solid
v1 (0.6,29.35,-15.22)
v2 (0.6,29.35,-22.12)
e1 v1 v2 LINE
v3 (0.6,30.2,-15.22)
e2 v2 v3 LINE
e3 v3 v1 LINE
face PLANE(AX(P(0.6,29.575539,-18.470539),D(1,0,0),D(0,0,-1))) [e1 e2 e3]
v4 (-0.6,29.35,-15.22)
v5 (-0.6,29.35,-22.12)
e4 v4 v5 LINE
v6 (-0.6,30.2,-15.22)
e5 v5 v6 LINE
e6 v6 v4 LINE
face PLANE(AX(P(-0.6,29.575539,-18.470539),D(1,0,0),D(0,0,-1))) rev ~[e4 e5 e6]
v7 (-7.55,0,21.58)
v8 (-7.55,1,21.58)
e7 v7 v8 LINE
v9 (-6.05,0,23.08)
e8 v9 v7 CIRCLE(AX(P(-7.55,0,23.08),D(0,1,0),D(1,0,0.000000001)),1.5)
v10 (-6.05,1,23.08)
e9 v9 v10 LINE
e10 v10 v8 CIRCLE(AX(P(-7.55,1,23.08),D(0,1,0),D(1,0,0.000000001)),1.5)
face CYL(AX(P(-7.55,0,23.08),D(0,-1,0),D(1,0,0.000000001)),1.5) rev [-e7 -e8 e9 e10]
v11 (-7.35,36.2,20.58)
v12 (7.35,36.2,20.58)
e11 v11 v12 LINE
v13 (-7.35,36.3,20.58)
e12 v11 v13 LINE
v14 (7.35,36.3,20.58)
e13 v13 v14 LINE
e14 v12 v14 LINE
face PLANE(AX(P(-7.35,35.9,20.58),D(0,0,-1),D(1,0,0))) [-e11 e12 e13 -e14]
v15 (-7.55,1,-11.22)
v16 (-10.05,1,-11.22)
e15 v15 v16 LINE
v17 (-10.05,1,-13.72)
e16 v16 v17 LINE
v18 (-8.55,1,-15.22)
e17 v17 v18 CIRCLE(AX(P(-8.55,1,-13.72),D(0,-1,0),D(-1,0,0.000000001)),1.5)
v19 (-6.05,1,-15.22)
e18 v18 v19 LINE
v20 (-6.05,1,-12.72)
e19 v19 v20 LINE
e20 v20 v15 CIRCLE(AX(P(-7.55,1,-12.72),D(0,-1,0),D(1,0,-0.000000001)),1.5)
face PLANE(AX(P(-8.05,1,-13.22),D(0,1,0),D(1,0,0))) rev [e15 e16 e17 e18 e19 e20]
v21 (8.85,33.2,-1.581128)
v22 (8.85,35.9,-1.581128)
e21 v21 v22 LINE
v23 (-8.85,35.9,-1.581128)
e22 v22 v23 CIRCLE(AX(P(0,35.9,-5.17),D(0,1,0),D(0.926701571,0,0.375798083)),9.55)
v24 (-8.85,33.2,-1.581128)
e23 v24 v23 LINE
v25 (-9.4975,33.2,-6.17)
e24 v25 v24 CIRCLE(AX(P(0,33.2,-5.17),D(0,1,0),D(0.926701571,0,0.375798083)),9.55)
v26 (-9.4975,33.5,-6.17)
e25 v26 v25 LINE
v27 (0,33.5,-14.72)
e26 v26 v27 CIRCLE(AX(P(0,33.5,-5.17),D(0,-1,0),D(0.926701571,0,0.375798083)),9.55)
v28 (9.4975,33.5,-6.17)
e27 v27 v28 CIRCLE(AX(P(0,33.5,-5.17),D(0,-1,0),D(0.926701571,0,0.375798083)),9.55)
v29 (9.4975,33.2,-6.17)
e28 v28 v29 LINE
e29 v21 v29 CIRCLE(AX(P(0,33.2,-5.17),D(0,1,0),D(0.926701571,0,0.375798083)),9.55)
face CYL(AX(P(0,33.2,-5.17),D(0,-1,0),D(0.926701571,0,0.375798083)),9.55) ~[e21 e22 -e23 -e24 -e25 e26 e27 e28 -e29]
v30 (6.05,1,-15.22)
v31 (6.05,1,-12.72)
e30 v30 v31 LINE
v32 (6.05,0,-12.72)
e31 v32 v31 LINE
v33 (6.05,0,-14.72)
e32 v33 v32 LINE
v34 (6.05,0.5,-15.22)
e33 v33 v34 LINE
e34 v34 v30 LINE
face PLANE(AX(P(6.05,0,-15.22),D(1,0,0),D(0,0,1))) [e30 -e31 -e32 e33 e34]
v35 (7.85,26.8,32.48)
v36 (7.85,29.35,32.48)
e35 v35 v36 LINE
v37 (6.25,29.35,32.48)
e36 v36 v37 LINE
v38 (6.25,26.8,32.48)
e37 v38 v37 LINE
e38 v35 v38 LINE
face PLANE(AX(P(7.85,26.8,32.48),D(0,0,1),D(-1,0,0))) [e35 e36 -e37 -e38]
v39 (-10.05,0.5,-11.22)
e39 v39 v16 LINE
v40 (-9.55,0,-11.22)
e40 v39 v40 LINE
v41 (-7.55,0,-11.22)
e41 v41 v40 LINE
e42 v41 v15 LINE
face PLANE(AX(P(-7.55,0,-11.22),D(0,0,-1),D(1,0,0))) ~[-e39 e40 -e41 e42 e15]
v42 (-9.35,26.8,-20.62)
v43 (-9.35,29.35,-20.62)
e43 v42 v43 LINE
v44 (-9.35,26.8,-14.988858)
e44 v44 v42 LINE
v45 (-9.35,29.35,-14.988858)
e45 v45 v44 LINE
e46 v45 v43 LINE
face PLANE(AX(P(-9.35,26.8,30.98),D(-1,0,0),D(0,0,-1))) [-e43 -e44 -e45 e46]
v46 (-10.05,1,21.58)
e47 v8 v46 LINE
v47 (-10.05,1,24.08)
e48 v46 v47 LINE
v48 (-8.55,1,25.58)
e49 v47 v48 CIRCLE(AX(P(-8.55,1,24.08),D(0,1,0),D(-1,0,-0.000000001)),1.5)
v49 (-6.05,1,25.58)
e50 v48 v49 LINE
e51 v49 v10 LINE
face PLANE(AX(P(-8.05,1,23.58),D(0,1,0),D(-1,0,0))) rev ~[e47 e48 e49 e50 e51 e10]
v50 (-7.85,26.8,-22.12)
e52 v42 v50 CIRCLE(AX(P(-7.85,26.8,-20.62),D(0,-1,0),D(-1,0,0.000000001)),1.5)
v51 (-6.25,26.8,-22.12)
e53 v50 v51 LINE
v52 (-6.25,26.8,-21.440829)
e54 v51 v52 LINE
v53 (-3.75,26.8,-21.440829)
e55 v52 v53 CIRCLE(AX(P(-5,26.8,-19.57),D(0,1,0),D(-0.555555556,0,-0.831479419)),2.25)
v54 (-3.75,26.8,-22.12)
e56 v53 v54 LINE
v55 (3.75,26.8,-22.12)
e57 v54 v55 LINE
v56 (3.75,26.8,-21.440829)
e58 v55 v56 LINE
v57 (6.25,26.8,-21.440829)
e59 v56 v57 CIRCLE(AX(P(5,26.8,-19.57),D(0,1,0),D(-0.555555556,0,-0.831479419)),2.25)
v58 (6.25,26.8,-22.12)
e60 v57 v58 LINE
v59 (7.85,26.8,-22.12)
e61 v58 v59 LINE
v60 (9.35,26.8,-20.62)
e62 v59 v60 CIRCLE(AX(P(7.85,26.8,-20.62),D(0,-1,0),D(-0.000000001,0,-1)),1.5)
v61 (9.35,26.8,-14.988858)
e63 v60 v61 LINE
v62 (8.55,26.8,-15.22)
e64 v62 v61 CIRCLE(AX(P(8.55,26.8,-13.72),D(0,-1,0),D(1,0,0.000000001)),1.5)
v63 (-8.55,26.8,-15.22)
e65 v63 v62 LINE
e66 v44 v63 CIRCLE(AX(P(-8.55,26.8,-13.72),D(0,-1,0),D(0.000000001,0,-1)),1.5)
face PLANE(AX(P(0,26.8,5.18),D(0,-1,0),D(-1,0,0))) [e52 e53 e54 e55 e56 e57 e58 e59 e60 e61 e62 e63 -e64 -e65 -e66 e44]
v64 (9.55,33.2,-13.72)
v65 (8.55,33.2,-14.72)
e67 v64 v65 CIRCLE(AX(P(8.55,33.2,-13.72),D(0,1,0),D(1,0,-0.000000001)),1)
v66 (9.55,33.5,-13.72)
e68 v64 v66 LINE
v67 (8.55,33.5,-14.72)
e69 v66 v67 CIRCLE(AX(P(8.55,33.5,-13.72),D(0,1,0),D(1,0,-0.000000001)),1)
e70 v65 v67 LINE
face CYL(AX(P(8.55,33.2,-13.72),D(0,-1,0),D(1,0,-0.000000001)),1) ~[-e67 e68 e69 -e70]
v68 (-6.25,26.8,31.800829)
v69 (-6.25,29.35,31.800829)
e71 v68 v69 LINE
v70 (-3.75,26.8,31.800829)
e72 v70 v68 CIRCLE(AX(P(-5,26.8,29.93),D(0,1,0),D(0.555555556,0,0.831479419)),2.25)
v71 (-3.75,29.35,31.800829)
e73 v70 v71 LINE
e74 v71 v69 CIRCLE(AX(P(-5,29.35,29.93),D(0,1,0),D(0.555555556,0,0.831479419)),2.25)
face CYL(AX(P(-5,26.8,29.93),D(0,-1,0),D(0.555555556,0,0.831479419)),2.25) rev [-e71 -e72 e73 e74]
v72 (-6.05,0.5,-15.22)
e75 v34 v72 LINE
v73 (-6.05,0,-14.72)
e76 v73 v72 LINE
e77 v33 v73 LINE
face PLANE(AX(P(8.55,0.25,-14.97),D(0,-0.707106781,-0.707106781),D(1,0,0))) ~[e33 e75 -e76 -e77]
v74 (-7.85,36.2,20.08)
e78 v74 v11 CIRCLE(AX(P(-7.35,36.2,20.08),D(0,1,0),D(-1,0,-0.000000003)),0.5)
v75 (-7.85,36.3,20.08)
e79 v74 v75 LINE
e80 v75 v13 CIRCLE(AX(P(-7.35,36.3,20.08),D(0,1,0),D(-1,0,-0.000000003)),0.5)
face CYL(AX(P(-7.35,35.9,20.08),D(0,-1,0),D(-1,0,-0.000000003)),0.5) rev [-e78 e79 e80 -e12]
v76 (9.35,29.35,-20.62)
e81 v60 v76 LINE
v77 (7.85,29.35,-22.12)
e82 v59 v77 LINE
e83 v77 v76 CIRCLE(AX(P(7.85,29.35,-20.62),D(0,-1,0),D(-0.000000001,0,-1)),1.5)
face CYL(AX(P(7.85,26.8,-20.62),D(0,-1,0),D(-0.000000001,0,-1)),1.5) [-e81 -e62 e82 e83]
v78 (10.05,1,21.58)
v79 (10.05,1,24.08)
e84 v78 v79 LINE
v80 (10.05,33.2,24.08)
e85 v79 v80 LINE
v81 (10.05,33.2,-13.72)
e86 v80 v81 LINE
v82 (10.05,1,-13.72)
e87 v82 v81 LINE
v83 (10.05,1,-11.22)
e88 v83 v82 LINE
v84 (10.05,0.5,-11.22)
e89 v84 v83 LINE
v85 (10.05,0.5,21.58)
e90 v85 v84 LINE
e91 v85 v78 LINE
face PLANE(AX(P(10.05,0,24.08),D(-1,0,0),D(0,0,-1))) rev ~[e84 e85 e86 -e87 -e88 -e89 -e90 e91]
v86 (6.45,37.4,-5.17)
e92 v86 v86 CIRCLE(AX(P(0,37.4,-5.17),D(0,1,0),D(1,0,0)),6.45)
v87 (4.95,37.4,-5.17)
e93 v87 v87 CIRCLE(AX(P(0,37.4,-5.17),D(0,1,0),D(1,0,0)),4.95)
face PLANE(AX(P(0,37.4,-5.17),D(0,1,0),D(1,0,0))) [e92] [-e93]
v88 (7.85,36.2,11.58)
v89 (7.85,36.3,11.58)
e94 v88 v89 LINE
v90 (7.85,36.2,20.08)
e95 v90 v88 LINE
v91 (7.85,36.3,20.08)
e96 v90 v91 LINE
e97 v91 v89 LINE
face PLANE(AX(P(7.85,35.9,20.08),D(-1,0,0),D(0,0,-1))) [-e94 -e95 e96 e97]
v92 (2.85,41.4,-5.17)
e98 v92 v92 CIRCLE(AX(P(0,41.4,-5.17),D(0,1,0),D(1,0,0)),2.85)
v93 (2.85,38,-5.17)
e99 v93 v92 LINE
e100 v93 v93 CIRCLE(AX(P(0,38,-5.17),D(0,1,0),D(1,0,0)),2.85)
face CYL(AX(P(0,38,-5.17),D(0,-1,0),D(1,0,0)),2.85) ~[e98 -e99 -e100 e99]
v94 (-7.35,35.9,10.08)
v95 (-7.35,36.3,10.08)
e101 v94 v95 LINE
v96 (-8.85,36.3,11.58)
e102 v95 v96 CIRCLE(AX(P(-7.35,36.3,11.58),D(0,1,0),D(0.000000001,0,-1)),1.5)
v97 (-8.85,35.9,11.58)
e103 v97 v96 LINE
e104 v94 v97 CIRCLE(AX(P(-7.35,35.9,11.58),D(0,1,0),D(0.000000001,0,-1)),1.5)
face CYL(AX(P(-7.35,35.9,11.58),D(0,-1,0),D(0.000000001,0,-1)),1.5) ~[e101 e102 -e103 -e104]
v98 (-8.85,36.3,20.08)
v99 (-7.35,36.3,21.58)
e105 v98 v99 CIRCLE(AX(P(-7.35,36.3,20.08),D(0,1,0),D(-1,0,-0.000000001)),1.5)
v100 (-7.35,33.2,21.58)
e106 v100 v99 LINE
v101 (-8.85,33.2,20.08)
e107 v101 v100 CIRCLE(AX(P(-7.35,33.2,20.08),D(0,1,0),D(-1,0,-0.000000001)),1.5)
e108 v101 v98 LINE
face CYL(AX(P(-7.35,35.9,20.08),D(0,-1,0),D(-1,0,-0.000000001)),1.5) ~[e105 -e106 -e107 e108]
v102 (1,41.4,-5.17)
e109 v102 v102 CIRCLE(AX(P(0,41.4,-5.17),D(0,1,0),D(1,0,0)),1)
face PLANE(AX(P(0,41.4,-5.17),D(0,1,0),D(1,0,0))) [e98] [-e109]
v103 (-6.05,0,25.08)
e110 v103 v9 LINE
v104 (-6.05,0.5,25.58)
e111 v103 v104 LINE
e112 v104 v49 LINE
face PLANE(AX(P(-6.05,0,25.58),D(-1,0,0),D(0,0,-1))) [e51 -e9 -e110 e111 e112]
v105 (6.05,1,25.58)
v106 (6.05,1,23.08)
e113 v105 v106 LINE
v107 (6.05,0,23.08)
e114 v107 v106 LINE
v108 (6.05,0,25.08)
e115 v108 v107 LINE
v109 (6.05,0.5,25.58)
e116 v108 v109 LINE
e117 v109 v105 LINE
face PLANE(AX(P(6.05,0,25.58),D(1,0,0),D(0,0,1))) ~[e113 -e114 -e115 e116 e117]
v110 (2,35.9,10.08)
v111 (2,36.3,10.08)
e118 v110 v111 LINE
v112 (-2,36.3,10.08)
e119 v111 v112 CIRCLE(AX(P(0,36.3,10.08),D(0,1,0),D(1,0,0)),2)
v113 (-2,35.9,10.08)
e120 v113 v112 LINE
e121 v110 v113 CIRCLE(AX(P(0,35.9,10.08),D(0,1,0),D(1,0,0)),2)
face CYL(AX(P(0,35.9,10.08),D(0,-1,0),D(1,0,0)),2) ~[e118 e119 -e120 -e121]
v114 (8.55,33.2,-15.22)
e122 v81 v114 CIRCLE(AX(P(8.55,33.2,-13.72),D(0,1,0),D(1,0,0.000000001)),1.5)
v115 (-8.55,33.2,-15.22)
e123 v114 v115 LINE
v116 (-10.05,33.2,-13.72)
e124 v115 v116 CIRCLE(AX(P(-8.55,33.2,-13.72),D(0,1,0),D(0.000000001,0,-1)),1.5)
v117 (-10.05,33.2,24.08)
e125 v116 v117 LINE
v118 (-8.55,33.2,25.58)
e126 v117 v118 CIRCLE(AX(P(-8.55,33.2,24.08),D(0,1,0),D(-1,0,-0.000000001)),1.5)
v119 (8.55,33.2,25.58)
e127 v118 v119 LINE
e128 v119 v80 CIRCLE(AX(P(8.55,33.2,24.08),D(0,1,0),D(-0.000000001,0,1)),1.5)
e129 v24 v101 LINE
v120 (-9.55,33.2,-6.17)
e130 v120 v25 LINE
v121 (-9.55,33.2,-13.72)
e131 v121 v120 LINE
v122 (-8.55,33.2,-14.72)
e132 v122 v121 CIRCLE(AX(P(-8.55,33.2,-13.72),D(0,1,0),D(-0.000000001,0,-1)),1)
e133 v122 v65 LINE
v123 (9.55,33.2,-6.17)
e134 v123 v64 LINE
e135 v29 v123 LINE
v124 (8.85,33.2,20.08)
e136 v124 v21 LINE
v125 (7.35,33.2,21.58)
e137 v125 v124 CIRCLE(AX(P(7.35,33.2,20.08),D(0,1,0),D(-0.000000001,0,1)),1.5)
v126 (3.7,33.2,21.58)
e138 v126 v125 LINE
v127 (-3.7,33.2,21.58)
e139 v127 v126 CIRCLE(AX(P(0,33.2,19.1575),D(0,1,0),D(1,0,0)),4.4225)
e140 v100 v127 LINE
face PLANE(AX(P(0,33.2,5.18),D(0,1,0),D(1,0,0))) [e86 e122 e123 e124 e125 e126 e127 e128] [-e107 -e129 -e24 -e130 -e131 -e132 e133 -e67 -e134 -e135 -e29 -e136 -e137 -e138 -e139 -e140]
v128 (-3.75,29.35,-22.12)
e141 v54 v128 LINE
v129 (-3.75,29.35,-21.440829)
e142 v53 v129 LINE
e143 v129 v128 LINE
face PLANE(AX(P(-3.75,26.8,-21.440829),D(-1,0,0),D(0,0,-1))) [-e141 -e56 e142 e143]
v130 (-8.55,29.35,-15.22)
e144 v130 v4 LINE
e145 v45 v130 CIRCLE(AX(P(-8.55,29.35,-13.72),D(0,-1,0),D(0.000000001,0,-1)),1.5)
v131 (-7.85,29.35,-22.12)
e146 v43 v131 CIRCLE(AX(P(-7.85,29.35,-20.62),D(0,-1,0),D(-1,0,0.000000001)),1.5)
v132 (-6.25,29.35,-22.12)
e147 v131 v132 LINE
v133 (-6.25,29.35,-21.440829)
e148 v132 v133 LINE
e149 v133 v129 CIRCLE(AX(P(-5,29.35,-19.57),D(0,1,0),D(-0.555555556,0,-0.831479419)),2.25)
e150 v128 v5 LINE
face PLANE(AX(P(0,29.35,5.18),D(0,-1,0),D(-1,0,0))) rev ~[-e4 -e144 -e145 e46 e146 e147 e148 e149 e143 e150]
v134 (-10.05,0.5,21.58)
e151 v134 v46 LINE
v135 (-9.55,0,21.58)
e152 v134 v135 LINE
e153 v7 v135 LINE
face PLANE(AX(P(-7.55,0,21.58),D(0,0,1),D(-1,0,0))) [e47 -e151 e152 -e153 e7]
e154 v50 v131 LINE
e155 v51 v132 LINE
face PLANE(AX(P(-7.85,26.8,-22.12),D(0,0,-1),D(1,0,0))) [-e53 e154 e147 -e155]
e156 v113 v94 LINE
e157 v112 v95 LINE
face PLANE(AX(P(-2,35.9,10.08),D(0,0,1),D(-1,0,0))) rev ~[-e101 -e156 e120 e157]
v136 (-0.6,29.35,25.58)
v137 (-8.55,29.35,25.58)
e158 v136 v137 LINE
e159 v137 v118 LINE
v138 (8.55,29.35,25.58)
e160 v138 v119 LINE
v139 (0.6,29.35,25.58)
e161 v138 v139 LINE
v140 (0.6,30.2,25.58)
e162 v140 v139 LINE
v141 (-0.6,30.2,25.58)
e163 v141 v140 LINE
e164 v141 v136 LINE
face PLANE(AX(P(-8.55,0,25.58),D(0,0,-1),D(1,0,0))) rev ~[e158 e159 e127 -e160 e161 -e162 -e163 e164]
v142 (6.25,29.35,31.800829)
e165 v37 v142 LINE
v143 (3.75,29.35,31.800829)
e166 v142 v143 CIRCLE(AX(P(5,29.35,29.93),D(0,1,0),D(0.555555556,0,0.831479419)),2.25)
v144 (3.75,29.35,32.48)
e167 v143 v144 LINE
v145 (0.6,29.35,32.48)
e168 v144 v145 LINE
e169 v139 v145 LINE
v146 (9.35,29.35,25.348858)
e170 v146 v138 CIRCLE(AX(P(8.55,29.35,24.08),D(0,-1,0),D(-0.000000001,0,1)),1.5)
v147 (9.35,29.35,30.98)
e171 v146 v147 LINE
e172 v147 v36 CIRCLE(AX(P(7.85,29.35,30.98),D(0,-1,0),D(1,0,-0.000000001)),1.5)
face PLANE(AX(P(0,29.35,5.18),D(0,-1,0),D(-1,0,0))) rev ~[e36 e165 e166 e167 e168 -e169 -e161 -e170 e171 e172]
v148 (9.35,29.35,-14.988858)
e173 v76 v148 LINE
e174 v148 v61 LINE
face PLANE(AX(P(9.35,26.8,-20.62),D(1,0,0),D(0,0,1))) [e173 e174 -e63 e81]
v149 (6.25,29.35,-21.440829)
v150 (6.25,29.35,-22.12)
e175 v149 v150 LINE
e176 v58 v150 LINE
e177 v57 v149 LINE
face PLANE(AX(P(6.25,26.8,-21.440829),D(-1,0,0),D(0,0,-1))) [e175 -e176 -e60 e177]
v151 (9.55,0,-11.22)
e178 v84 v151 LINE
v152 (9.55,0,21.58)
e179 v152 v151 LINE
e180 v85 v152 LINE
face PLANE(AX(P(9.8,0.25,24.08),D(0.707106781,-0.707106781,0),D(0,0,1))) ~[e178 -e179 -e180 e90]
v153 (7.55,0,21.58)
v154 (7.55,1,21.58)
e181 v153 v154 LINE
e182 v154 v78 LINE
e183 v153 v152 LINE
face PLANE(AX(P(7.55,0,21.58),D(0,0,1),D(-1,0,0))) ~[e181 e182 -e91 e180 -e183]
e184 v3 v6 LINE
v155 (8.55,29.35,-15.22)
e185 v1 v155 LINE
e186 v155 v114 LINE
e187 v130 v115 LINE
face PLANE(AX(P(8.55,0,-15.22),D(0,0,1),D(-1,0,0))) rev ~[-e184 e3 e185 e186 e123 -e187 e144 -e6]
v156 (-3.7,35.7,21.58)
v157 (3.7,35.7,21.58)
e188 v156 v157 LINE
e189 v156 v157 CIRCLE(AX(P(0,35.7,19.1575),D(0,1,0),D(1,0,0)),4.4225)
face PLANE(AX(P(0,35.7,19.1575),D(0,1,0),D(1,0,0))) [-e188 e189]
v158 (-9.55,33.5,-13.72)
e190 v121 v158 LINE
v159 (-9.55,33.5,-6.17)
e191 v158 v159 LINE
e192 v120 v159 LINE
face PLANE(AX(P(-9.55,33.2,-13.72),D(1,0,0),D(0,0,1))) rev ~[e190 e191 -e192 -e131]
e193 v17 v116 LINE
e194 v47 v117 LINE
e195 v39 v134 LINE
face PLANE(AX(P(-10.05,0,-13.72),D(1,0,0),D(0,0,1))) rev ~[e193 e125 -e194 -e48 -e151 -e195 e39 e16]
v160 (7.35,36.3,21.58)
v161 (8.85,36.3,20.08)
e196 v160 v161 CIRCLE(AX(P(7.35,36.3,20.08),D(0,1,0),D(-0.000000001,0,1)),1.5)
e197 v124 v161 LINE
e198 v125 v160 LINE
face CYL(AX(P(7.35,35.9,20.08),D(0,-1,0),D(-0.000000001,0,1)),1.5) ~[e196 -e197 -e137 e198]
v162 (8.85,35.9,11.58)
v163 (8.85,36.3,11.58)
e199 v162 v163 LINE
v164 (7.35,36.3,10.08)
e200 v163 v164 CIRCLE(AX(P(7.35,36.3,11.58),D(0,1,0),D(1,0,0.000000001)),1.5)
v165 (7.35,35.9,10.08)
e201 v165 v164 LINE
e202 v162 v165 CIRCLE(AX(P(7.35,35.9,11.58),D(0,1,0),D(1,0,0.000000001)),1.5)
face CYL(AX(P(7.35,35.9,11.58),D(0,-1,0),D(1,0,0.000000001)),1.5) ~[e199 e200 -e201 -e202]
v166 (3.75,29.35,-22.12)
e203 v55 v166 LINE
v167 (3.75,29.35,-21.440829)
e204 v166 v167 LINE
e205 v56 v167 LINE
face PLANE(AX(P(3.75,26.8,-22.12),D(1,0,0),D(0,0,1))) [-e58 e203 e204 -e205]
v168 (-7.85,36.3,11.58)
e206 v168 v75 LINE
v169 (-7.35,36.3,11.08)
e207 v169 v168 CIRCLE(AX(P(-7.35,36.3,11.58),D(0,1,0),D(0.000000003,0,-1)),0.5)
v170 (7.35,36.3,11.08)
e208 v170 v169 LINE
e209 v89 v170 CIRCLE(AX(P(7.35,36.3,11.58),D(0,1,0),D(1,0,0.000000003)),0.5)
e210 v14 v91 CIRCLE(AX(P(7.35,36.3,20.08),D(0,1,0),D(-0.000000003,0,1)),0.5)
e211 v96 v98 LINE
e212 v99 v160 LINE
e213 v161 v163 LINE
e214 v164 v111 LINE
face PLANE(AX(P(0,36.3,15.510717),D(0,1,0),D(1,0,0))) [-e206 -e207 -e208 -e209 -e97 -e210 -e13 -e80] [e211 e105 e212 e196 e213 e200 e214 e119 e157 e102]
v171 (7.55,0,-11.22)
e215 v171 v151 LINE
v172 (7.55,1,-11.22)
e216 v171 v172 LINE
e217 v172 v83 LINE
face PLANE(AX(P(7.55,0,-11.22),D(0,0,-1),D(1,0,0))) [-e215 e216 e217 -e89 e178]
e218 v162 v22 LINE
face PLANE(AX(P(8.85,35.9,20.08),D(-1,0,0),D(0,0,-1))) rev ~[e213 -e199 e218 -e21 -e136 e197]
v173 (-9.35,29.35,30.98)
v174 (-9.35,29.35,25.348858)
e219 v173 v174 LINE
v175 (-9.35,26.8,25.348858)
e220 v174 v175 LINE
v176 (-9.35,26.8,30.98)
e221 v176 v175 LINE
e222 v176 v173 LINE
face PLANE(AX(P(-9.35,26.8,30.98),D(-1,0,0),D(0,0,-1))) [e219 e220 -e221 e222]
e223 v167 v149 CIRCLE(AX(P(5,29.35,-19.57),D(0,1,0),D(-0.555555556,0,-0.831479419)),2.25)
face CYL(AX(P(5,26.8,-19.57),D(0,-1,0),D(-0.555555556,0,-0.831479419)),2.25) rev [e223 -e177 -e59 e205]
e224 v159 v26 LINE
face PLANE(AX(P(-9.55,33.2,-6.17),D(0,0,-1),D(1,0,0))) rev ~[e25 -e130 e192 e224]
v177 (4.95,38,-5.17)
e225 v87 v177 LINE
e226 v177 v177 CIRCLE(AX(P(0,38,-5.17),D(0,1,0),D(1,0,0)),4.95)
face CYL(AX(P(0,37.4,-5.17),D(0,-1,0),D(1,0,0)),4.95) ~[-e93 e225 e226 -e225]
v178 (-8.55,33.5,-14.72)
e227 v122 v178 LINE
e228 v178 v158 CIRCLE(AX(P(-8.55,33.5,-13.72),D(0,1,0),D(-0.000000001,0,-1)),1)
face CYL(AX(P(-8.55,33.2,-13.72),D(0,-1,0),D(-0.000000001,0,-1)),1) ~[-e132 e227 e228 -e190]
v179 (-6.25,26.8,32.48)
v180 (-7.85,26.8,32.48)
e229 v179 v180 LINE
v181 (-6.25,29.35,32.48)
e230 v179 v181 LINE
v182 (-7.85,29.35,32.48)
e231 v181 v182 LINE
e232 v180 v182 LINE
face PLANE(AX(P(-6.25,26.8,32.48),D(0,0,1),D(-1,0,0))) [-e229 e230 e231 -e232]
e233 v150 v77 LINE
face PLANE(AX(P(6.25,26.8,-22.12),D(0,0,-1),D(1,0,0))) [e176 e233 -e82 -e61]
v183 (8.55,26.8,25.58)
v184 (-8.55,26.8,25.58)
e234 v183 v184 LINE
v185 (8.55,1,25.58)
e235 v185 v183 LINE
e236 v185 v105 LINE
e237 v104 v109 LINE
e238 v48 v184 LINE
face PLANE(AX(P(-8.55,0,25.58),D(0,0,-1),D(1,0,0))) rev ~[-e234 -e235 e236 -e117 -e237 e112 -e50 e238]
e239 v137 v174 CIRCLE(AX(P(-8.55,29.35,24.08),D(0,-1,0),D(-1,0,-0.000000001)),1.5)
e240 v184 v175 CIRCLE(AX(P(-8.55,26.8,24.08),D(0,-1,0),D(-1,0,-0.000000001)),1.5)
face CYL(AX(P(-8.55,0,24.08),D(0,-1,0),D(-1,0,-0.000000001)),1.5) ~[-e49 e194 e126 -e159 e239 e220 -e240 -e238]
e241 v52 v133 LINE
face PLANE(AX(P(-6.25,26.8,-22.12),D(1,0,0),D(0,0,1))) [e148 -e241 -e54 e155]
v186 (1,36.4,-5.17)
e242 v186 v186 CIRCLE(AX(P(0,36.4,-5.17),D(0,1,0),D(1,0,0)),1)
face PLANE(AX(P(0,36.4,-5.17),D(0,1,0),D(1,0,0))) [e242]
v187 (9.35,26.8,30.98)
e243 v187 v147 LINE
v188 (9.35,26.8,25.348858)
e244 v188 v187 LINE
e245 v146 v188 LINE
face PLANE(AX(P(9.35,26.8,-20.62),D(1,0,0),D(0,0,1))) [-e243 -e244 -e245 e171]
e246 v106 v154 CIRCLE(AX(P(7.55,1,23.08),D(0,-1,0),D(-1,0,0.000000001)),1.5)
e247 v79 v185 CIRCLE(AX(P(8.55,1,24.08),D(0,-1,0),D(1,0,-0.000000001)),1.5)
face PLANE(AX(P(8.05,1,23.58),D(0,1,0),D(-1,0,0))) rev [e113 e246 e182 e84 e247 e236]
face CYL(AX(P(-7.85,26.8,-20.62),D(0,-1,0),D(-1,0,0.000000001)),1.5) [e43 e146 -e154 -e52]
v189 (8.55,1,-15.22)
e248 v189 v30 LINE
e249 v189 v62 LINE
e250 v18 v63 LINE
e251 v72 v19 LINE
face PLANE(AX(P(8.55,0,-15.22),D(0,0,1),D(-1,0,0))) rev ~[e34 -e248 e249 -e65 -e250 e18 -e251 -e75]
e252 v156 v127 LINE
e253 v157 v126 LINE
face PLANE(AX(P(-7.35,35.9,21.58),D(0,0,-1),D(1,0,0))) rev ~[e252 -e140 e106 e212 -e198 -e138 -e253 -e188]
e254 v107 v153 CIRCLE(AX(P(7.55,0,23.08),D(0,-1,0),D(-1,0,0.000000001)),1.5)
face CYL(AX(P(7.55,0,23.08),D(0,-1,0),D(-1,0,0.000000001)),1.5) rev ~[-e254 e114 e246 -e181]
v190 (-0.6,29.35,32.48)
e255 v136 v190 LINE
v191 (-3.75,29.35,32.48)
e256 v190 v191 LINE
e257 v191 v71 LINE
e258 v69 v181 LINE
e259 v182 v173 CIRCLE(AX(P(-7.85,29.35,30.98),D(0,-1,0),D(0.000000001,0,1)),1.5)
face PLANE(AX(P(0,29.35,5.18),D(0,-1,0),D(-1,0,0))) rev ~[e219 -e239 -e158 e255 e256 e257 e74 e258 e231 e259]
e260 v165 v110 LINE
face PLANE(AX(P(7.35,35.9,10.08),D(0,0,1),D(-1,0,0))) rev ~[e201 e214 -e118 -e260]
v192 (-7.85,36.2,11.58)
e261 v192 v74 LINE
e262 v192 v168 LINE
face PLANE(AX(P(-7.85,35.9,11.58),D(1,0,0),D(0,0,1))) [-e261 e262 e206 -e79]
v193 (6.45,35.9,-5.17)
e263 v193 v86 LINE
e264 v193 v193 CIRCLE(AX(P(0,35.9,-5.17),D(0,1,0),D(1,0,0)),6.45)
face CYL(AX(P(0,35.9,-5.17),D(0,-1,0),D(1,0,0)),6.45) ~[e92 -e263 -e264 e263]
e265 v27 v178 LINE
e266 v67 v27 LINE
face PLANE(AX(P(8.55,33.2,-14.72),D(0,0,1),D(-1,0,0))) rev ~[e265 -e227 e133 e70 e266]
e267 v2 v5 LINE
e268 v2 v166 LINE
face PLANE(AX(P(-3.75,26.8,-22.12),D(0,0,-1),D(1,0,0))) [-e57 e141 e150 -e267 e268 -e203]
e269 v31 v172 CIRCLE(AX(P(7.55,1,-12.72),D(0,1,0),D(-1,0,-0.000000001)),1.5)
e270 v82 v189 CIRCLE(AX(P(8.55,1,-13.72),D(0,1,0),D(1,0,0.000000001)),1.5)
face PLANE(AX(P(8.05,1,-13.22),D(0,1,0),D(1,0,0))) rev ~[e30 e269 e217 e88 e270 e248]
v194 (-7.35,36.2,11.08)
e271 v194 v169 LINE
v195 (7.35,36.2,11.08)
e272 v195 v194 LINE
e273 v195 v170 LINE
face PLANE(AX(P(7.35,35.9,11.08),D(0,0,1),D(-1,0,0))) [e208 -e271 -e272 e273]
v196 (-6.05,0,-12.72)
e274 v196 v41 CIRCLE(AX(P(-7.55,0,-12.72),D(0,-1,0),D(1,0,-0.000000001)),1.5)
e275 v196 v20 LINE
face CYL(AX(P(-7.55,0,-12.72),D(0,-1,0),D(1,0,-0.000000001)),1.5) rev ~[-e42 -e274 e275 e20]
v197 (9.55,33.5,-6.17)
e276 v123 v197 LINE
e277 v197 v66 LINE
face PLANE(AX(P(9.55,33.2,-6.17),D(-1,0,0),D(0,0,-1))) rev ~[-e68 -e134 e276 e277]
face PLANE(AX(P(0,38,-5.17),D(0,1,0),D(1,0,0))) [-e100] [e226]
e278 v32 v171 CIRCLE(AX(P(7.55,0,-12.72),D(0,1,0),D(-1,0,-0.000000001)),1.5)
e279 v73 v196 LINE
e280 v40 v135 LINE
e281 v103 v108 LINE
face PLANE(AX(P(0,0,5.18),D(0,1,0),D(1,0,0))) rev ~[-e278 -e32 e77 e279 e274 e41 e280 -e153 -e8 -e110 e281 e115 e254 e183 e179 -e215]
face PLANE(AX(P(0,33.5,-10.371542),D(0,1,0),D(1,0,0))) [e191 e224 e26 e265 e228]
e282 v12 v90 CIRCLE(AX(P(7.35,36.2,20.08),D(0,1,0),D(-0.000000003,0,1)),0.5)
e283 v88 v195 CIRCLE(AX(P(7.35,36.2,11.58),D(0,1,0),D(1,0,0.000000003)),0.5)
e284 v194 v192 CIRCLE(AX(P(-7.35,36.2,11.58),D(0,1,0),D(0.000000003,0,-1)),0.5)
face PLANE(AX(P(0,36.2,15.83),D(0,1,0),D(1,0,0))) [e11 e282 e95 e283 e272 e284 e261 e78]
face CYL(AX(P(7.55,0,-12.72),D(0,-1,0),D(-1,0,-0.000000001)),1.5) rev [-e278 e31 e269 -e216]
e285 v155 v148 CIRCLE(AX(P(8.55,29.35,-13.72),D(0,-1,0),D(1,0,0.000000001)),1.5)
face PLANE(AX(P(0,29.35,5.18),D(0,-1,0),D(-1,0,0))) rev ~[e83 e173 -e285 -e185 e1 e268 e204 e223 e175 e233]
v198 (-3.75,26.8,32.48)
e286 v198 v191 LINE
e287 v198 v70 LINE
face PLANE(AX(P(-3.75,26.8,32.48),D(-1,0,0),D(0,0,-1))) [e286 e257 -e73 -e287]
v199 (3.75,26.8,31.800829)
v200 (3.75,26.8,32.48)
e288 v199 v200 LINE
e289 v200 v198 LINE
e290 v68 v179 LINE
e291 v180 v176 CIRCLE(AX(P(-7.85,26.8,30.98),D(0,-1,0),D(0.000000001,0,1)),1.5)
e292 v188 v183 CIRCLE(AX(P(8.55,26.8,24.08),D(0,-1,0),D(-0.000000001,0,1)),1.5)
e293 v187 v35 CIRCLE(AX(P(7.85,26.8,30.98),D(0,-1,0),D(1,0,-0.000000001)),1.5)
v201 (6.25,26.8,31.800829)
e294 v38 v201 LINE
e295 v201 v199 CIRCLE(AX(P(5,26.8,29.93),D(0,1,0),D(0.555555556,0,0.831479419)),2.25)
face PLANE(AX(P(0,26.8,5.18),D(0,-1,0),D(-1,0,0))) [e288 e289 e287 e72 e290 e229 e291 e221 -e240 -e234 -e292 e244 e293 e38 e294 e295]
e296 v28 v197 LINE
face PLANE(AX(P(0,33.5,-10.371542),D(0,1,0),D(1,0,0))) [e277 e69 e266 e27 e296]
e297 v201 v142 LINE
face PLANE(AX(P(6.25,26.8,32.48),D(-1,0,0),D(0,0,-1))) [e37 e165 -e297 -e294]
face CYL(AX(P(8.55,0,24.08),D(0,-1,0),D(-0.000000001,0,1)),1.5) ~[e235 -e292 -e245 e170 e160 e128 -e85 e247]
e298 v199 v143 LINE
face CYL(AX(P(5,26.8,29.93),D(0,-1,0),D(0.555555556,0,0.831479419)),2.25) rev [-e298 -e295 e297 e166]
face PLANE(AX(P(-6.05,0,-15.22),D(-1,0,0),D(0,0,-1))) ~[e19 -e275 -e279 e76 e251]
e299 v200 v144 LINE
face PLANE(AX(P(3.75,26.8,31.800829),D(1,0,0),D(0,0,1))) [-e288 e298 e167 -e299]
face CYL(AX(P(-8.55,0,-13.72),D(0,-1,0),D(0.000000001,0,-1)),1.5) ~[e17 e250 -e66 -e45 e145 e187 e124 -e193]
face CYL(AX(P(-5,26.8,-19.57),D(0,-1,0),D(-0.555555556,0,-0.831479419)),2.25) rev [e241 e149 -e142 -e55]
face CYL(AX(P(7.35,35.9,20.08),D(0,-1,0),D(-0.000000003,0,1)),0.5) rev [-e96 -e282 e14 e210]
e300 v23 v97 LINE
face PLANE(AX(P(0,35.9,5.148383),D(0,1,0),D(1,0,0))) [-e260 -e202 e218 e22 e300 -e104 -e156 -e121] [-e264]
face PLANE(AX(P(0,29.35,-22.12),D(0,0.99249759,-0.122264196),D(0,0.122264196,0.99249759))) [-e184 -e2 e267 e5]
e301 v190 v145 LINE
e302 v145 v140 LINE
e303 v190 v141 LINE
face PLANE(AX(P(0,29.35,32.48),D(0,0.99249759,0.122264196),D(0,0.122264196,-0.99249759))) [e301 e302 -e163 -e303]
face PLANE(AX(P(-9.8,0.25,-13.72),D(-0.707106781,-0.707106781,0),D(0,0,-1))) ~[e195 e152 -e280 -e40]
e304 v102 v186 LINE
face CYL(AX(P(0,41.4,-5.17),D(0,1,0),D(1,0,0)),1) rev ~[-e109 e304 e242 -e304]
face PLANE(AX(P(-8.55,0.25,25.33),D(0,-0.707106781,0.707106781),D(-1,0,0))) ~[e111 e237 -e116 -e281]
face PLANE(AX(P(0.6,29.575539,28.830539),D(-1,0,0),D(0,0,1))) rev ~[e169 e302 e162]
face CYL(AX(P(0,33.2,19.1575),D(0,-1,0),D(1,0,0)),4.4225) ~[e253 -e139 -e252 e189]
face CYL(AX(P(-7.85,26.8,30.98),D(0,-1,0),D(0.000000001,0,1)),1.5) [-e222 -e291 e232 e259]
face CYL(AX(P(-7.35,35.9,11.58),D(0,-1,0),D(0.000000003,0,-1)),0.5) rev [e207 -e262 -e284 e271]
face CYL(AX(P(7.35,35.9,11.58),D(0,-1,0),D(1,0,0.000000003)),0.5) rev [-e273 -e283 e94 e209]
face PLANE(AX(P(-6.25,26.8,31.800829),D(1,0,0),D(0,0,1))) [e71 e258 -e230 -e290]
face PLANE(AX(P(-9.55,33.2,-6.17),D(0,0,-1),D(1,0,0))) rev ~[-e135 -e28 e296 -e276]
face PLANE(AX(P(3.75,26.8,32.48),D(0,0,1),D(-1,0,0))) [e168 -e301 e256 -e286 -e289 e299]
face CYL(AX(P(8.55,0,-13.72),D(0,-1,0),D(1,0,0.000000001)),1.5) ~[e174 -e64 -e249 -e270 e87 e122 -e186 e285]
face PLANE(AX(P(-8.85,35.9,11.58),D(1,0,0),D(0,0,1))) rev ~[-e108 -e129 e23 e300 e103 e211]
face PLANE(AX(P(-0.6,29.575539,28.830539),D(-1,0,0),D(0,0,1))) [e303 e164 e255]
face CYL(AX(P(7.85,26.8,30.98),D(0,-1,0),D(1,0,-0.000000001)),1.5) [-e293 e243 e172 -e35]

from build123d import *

# Parameters (mm, degrees)
BOSS_EXTRUDE1_DEPTH  = 33.2
BOSS_EXTRUDE2_DEPTH  = 2.55
BOSS_EXTRUDE11_DEPTH = 0.3
BOSS_EXTRUDE3_DEPTH  = 2.7
SKETCH6_R            = 4.4225
BOSS_EXTRUDE4_DEPTH  = 2.5
SKETCH7_R            = 6.45
BOSS_EXTRUDE5_DEPTH  = 1.5
SKETCH8_R            = 4.95
BOSS_EXTRUDE6_DEPTH  = 0.6
SKETCH10_R           = 2.85
BOSS_EXTRUDE7_DEPTH  = 3.4
SKETCH12_R           = 1
CUT_EXTRUDE1_DEPTH   = 5
BOSS_EXTRUDE9_DEPTH  = 0.4
BOSS_EXTRUDE10_DEPTH = 0.3
CHAMFER1_SIZE        = 0.5
CUT_EXTRUDE2_DEPTH   = 1
MIRROR2_COPY_1_DEPTH = 1
BOSS_EXTRUDE12_DEPTH = 0.6


with BuildPart() as part:
    # Sketch1 → Boss-Extrude1 (new body)
    with BuildSketch(Plane(origin=(0, 0, 0), x_dir=(1, 0, 0), z_dir=(0, 1, 0))):
        with BuildLine():
            Line((-8.55, -25.58), (8.55, -25.58))
            ThreePointArc((8.55, -25.58), (9.610660172, -25.140660172), (10.05, -24.08))
            Line((10.05, -24.08), (10.05, 13.72))
            ThreePointArc((10.05, 13.72), (9.610660172, 14.780660172), (8.55, 15.22))
            Line((8.55, 15.22), (-8.55, 15.22))
            ThreePointArc((-8.55, 15.22), (-9.610660172, 14.780660172), (-10.05, 13.72))
            Line((-10.05, 13.72), (-10.05, -24.08))
            ThreePointArc((-10.05, -24.08), (-9.610660172, -25.140660172), (-8.55, -25.58))
        make_face()
    extrude(amount=BOSS_EXTRUDE1_DEPTH)

    # Sketch4 → Boss-Extrude2 (add)
    with BuildSketch(Plane(origin=(0, 26.8, 0), x_dir=(1, 0, 0), z_dir=(0, 1, 0))):
        with BuildLine():
            Line((-6.25, 22.12), (-6.25, 21.440828693))
            ThreePointArc((-6.25, 21.440828693), (-5, 17.32), (-3.75, 21.440828693))
            Line((-3.75, 21.440828693), (-3.75, 22.12))
            Line((-3.75, 22.12), (3.75, 22.12))
            Line((3.75, 22.12), (3.75, 21.440828693))
            ThreePointArc((3.75, 21.440828693), (5, 17.32), (6.25, 21.440828693))
            Line((6.25, 21.440828693), (6.25, 22.12))
            Line((6.25, 22.12), (7.85, 22.12))
            ThreePointArc((7.85, 22.12), (8.910660172, 21.680660172), (9.35, 20.62))
            Line((9.35, 20.62), (9.35, -30.98))
            ThreePointArc((9.35, -30.98), (8.910660172, -32.040660172), (7.85, -32.48))
            Line((7.85, -32.48), (6.25, -32.48))
            Line((6.25, -32.48), (6.25, -31.800828693))
            ThreePointArc((6.25, -31.800828693), (5, -27.68), (3.75, -31.800828693))
            Line((3.75, -31.800828693), (3.75, -32.48))
            Line((3.75, -32.48), (-3.75, -32.48))
            Line((-3.75, -32.48), (-3.75, -31.800828693))
            ThreePointArc((-3.75, -31.800828693), (-5, -27.68), (-6.25, -31.800828693))
            Line((-6.25, -31.800828693), (-6.25, -32.48))
            Line((-6.25, -32.48), (-7.85, -32.48))
            ThreePointArc((-7.85, -32.48), (-8.910660172, -32.040660172), (-9.35, -30.98))
            Line((-9.35, -30.98), (-9.35, 20.62))
            ThreePointArc((-9.35, 20.62), (-8.910660172, 21.680660172), (-7.85, 22.12))
            Line((-7.85, 22.12), (-6.25, 22.12))
        make_face()
    extrude(amount=BOSS_EXTRUDE2_DEPTH)

    # Sketch16 → Boss-Extrude11 (add)
    with BuildSketch(Plane(origin=(0, 33.2, 0), x_dir=(1, 0, 0), z_dir=(0, 1, 0))):
        with BuildLine():
            Line((-9.55, 13.72), (-9.55, 6.17))
            Line((-9.55, 6.17), (9.55, 6.17))
            Line((9.55, 6.17), (9.55, 13.72))
            ThreePointArc((9.55, 13.72), (9.257106781, 14.427106781), (8.55, 14.72))
            Line((8.55, 14.72), (-8.55, 14.72))
            ThreePointArc((-8.55, 14.72), (-9.257106781, 14.427106781), (-9.55, 13.72))
        make_face()
    extrude(amount=BOSS_EXTRUDE11_DEPTH)

    # Sketch5 → Boss-Extrude3 (add)
    with BuildSketch(Plane(origin=(0, 33.2, 0), x_dir=(1, 0, 0), z_dir=(0, 1, 0))):
        with BuildLine():
            Line((-8.85, 1.581128311), (-8.85, -20.08))
            ThreePointArc((-8.85, -20.08), (-8.410660172, -21.140660172), (-7.35, -21.58))
            Line((-7.35, -21.58), (7.35, -21.58))
            ThreePointArc((7.35, -21.58), (8.410660172, -21.140660172), (8.85, -20.08))
            Line((8.85, -20.08), (8.85, 1.581128311))
            ThreePointArc((8.85, 1.581128311), (0, 14.72), (-8.85, 1.581128311))
        make_face()
    extrude(amount=BOSS_EXTRUDE3_DEPTH)

    # Sketch6 → Boss-Extrude4 (add)
    with BuildSketch(Plane(origin=(0, 33.2, 0), x_dir=(1, 0, 0), z_dir=(0, 1, 0))):
        with Locations((0, -19.1575)):
            Circle(SKETCH6_R)
    extrude(amount=BOSS_EXTRUDE4_DEPTH)

    # Sketch7 → Boss-Extrude5 (add)
    with BuildSketch(Plane(origin=(0, 35.9, 0), x_dir=(1, 0, 0), z_dir=(0, 1, 0))):
        with Locations((0, 5.17)):
            Circle(SKETCH7_R)
    extrude(amount=BOSS_EXTRUDE5_DEPTH)

    # Sketch8 → Boss-Extrude6 (add)
    with BuildSketch(Plane(origin=(0, 37.4, 0), x_dir=(1, 0, 0), z_dir=(0, 1, 0))):
        with Locations((0, 5.17)):
            Circle(SKETCH8_R)
    extrude(amount=BOSS_EXTRUDE6_DEPTH)

    # Sketch10 → Boss-Extrude7 (add)
    with BuildSketch(Plane(origin=(0, 38, 0), x_dir=(1, 0, 0), z_dir=(0, 1, 0))):
        with Locations((0, 5.17)):
            Circle(SKETCH10_R)
    extrude(amount=BOSS_EXTRUDE7_DEPTH)

    # Sketch12 → Cut-Extrude1 (cut)
    with BuildSketch(Plane(origin=(0, 41.4, 0), x_dir=(1, 0, 0), z_dir=(0, 1, 0))):
        with Locations((0, 5.17)):
            Circle(SKETCH12_R)
    extrude(amount=-CUT_EXTRUDE1_DEPTH, mode=Mode.SUBTRACT)

    # Sketch13 → Boss-Extrude9 (add)
    with BuildSketch(Plane(origin=(0, 35.9, 0), x_dir=(1, 0, 0), z_dir=(0, 1, 0))):
        with BuildLine():
            Line((-8.85, -11.58), (-8.85, -20.08))
            ThreePointArc((-8.85, -20.08), (-8.410660172, -21.140660172), (-7.35, -21.58))
            Line((-7.35, -21.58), (7.35, -21.58))
            ThreePointArc((7.35, -21.58), (8.410660172, -21.140660172), (8.85, -20.08))
            Line((8.85, -20.08), (8.85, -11.58))
            ThreePointArc((8.85, -11.58), (8.410660172, -10.519339828), (7.35, -10.08))
            Line((7.35, -10.08), (2, -10.08))
            ThreePointArc((2, -10.08), (0, -8.08), (-2, -10.08))
            Line((-2, -10.08), (-7.35, -10.08))
            ThreePointArc((-7.35, -10.08), (-8.410660172, -10.519339828), (-8.85, -11.58))
        make_face()
        with BuildLine():
            Line((-7.85, -11.58), (-7.85, -20.08))
            ThreePointArc((-7.85, -20.08), (-7.703553391, -20.433553391), (-7.35, -20.58))
            Line((-7.35, -20.58), (7.35, -20.58))
            ThreePointArc((7.35, -20.58), (7.703553391, -20.433553391), (7.85, -20.08))
            Line((7.85, -20.08), (7.85, -11.58))
            ThreePointArc((7.85, -11.58), (7.703553391, -11.226446609), (7.35, -11.08))
            Line((7.35, -11.08), (-7.35, -11.08))
            ThreePointArc((-7.35, -11.08), (-7.703553391, -11.226446609), (-7.85, -11.58))
        make_face(mode=Mode.SUBTRACT)
    extrude(amount=BOSS_EXTRUDE9_DEPTH)

    # Sketch14 → Boss-Extrude10 (add)
    with BuildSketch(Plane(origin=(0, 35.9, 0), x_dir=(1, 0, 0), z_dir=(0, 1, 0))):
        with BuildLine():
            Line((-7.85, -11.58), (-7.85, -20.08))
            ThreePointArc((-7.85, -20.08), (-7.703553391, -20.433553391), (-7.35, -20.58))
            Line((-7.35, -20.58), (7.35, -20.58))
            ThreePointArc((7.35, -20.58), (7.703553391, -20.433553391), (7.85, -20.08))
            Line((7.85, -20.08), (7.85, -11.58))
            ThreePointArc((7.85, -11.58), (7.703553391, -11.226446609), (7.35, -11.08))
            Line((7.35, -11.08), (-7.35, -11.08))
            ThreePointArc((-7.35, -11.08), (-7.703553391, -11.226446609), (-7.85, -11.58))
        make_face()
    extrude(amount=BOSS_EXTRUDE10_DEPTH)

    # Chamfer1
    chamfer1_edges = [part.edges().sort_by_distance(p)[0] for p in [
        (-10.05, 0, 5.18),
        (-9.610660172, 0, -14.780660172),
        (0, 0, -15.22),
        (9.610660172, 0, -14.780660172),
        (10.05, 0, 5.18),
        (9.610660172, 0, 25.140660172),
        (0, 0, 25.58),
        (-9.610660172, 0, 25.140660172),
    ]]
    chamfer(chamfer1_edges, length=CHAMFER1_SIZE)

    # Sketch17 → Cut-Extrude2 (cut)
    with BuildSketch(Plane.XZ):
        with BuildLine():
            Line((-10.05, 21.58), (-10.05, 24.08))
            ThreePointArc((-10.05, 24.08), (-9.610660172, 25.140660172), (-8.55, 25.58))
            Line((-8.55, 25.58), (-6.05, 25.58))
            Line((-6.05, 25.58), (-6.05, 23.08))
            ThreePointArc((-6.05, 23.08), (-6.489339828, 22.019339828), (-7.55, 21.58))
            Line((-7.55, 21.58), (-10.05, 21.58))
        make_face()
    cut_extrude2 = extrude(amount=-CUT_EXTRUDE2_DEPTH, mode=Mode.SUBTRACT)

    # Mirror1: Cut-Extrude2 across plane
    add(cut_extrude2.mirror(Plane(origin=(0, 0, 0), x_dir=(0, 0, 1), z_dir=(1, 0, 0))), mode=Mode.SUBTRACT)

    # Mirror2: Cut-Extrude2 across plane
    add(cut_extrude2.mirror(Plane.XY.offset(5.18)), mode=Mode.SUBTRACT)

    # Mirror2 copy 1 sketch → Mirror2 copy 1 (cut)
    with BuildSketch(Plane(origin=(0, 0, 10.36), x_dir=(-1, 0, 0), z_dir=(0, -1, 0))):
        with BuildLine():
            Line((-10.05, 21.58), (-10.05, 24.08))
            ThreePointArc((-10.05, 24.08), (-9.610660172, 25.140660172), (-8.55, 25.58))
            Line((-8.55, 25.58), (-6.05, 25.58))
            Line((-6.05, 25.58), (-6.05, 23.08))
            ThreePointArc((-6.05, 23.08), (-6.489339828, 22.019339828), (-7.55, 21.58))
            Line((-7.55, 21.58), (-10.05, 21.58))
        make_face()
    extrude(amount=-MIRROR2_COPY_1_DEPTH, mode=Mode.SUBTRACT)

    # Sketch19 → Boss-Extrude12 (add, symmetric)
    with BuildSketch(Plane(origin=(0, 0, 0), x_dir=(0, 0, -1), z_dir=(1, 0, 0))):
        Polygon((-25.58, 30.2), (-25.58, 29.35), (-32.48, 29.35), align=None)
        Polygon((15.22, 30.2), (15.22, 29.35), (22.12, 29.35), align=None)
    extrude(amount=BOSS_EXTRUDE12_DEPTH, both=True)


solid = part.part
